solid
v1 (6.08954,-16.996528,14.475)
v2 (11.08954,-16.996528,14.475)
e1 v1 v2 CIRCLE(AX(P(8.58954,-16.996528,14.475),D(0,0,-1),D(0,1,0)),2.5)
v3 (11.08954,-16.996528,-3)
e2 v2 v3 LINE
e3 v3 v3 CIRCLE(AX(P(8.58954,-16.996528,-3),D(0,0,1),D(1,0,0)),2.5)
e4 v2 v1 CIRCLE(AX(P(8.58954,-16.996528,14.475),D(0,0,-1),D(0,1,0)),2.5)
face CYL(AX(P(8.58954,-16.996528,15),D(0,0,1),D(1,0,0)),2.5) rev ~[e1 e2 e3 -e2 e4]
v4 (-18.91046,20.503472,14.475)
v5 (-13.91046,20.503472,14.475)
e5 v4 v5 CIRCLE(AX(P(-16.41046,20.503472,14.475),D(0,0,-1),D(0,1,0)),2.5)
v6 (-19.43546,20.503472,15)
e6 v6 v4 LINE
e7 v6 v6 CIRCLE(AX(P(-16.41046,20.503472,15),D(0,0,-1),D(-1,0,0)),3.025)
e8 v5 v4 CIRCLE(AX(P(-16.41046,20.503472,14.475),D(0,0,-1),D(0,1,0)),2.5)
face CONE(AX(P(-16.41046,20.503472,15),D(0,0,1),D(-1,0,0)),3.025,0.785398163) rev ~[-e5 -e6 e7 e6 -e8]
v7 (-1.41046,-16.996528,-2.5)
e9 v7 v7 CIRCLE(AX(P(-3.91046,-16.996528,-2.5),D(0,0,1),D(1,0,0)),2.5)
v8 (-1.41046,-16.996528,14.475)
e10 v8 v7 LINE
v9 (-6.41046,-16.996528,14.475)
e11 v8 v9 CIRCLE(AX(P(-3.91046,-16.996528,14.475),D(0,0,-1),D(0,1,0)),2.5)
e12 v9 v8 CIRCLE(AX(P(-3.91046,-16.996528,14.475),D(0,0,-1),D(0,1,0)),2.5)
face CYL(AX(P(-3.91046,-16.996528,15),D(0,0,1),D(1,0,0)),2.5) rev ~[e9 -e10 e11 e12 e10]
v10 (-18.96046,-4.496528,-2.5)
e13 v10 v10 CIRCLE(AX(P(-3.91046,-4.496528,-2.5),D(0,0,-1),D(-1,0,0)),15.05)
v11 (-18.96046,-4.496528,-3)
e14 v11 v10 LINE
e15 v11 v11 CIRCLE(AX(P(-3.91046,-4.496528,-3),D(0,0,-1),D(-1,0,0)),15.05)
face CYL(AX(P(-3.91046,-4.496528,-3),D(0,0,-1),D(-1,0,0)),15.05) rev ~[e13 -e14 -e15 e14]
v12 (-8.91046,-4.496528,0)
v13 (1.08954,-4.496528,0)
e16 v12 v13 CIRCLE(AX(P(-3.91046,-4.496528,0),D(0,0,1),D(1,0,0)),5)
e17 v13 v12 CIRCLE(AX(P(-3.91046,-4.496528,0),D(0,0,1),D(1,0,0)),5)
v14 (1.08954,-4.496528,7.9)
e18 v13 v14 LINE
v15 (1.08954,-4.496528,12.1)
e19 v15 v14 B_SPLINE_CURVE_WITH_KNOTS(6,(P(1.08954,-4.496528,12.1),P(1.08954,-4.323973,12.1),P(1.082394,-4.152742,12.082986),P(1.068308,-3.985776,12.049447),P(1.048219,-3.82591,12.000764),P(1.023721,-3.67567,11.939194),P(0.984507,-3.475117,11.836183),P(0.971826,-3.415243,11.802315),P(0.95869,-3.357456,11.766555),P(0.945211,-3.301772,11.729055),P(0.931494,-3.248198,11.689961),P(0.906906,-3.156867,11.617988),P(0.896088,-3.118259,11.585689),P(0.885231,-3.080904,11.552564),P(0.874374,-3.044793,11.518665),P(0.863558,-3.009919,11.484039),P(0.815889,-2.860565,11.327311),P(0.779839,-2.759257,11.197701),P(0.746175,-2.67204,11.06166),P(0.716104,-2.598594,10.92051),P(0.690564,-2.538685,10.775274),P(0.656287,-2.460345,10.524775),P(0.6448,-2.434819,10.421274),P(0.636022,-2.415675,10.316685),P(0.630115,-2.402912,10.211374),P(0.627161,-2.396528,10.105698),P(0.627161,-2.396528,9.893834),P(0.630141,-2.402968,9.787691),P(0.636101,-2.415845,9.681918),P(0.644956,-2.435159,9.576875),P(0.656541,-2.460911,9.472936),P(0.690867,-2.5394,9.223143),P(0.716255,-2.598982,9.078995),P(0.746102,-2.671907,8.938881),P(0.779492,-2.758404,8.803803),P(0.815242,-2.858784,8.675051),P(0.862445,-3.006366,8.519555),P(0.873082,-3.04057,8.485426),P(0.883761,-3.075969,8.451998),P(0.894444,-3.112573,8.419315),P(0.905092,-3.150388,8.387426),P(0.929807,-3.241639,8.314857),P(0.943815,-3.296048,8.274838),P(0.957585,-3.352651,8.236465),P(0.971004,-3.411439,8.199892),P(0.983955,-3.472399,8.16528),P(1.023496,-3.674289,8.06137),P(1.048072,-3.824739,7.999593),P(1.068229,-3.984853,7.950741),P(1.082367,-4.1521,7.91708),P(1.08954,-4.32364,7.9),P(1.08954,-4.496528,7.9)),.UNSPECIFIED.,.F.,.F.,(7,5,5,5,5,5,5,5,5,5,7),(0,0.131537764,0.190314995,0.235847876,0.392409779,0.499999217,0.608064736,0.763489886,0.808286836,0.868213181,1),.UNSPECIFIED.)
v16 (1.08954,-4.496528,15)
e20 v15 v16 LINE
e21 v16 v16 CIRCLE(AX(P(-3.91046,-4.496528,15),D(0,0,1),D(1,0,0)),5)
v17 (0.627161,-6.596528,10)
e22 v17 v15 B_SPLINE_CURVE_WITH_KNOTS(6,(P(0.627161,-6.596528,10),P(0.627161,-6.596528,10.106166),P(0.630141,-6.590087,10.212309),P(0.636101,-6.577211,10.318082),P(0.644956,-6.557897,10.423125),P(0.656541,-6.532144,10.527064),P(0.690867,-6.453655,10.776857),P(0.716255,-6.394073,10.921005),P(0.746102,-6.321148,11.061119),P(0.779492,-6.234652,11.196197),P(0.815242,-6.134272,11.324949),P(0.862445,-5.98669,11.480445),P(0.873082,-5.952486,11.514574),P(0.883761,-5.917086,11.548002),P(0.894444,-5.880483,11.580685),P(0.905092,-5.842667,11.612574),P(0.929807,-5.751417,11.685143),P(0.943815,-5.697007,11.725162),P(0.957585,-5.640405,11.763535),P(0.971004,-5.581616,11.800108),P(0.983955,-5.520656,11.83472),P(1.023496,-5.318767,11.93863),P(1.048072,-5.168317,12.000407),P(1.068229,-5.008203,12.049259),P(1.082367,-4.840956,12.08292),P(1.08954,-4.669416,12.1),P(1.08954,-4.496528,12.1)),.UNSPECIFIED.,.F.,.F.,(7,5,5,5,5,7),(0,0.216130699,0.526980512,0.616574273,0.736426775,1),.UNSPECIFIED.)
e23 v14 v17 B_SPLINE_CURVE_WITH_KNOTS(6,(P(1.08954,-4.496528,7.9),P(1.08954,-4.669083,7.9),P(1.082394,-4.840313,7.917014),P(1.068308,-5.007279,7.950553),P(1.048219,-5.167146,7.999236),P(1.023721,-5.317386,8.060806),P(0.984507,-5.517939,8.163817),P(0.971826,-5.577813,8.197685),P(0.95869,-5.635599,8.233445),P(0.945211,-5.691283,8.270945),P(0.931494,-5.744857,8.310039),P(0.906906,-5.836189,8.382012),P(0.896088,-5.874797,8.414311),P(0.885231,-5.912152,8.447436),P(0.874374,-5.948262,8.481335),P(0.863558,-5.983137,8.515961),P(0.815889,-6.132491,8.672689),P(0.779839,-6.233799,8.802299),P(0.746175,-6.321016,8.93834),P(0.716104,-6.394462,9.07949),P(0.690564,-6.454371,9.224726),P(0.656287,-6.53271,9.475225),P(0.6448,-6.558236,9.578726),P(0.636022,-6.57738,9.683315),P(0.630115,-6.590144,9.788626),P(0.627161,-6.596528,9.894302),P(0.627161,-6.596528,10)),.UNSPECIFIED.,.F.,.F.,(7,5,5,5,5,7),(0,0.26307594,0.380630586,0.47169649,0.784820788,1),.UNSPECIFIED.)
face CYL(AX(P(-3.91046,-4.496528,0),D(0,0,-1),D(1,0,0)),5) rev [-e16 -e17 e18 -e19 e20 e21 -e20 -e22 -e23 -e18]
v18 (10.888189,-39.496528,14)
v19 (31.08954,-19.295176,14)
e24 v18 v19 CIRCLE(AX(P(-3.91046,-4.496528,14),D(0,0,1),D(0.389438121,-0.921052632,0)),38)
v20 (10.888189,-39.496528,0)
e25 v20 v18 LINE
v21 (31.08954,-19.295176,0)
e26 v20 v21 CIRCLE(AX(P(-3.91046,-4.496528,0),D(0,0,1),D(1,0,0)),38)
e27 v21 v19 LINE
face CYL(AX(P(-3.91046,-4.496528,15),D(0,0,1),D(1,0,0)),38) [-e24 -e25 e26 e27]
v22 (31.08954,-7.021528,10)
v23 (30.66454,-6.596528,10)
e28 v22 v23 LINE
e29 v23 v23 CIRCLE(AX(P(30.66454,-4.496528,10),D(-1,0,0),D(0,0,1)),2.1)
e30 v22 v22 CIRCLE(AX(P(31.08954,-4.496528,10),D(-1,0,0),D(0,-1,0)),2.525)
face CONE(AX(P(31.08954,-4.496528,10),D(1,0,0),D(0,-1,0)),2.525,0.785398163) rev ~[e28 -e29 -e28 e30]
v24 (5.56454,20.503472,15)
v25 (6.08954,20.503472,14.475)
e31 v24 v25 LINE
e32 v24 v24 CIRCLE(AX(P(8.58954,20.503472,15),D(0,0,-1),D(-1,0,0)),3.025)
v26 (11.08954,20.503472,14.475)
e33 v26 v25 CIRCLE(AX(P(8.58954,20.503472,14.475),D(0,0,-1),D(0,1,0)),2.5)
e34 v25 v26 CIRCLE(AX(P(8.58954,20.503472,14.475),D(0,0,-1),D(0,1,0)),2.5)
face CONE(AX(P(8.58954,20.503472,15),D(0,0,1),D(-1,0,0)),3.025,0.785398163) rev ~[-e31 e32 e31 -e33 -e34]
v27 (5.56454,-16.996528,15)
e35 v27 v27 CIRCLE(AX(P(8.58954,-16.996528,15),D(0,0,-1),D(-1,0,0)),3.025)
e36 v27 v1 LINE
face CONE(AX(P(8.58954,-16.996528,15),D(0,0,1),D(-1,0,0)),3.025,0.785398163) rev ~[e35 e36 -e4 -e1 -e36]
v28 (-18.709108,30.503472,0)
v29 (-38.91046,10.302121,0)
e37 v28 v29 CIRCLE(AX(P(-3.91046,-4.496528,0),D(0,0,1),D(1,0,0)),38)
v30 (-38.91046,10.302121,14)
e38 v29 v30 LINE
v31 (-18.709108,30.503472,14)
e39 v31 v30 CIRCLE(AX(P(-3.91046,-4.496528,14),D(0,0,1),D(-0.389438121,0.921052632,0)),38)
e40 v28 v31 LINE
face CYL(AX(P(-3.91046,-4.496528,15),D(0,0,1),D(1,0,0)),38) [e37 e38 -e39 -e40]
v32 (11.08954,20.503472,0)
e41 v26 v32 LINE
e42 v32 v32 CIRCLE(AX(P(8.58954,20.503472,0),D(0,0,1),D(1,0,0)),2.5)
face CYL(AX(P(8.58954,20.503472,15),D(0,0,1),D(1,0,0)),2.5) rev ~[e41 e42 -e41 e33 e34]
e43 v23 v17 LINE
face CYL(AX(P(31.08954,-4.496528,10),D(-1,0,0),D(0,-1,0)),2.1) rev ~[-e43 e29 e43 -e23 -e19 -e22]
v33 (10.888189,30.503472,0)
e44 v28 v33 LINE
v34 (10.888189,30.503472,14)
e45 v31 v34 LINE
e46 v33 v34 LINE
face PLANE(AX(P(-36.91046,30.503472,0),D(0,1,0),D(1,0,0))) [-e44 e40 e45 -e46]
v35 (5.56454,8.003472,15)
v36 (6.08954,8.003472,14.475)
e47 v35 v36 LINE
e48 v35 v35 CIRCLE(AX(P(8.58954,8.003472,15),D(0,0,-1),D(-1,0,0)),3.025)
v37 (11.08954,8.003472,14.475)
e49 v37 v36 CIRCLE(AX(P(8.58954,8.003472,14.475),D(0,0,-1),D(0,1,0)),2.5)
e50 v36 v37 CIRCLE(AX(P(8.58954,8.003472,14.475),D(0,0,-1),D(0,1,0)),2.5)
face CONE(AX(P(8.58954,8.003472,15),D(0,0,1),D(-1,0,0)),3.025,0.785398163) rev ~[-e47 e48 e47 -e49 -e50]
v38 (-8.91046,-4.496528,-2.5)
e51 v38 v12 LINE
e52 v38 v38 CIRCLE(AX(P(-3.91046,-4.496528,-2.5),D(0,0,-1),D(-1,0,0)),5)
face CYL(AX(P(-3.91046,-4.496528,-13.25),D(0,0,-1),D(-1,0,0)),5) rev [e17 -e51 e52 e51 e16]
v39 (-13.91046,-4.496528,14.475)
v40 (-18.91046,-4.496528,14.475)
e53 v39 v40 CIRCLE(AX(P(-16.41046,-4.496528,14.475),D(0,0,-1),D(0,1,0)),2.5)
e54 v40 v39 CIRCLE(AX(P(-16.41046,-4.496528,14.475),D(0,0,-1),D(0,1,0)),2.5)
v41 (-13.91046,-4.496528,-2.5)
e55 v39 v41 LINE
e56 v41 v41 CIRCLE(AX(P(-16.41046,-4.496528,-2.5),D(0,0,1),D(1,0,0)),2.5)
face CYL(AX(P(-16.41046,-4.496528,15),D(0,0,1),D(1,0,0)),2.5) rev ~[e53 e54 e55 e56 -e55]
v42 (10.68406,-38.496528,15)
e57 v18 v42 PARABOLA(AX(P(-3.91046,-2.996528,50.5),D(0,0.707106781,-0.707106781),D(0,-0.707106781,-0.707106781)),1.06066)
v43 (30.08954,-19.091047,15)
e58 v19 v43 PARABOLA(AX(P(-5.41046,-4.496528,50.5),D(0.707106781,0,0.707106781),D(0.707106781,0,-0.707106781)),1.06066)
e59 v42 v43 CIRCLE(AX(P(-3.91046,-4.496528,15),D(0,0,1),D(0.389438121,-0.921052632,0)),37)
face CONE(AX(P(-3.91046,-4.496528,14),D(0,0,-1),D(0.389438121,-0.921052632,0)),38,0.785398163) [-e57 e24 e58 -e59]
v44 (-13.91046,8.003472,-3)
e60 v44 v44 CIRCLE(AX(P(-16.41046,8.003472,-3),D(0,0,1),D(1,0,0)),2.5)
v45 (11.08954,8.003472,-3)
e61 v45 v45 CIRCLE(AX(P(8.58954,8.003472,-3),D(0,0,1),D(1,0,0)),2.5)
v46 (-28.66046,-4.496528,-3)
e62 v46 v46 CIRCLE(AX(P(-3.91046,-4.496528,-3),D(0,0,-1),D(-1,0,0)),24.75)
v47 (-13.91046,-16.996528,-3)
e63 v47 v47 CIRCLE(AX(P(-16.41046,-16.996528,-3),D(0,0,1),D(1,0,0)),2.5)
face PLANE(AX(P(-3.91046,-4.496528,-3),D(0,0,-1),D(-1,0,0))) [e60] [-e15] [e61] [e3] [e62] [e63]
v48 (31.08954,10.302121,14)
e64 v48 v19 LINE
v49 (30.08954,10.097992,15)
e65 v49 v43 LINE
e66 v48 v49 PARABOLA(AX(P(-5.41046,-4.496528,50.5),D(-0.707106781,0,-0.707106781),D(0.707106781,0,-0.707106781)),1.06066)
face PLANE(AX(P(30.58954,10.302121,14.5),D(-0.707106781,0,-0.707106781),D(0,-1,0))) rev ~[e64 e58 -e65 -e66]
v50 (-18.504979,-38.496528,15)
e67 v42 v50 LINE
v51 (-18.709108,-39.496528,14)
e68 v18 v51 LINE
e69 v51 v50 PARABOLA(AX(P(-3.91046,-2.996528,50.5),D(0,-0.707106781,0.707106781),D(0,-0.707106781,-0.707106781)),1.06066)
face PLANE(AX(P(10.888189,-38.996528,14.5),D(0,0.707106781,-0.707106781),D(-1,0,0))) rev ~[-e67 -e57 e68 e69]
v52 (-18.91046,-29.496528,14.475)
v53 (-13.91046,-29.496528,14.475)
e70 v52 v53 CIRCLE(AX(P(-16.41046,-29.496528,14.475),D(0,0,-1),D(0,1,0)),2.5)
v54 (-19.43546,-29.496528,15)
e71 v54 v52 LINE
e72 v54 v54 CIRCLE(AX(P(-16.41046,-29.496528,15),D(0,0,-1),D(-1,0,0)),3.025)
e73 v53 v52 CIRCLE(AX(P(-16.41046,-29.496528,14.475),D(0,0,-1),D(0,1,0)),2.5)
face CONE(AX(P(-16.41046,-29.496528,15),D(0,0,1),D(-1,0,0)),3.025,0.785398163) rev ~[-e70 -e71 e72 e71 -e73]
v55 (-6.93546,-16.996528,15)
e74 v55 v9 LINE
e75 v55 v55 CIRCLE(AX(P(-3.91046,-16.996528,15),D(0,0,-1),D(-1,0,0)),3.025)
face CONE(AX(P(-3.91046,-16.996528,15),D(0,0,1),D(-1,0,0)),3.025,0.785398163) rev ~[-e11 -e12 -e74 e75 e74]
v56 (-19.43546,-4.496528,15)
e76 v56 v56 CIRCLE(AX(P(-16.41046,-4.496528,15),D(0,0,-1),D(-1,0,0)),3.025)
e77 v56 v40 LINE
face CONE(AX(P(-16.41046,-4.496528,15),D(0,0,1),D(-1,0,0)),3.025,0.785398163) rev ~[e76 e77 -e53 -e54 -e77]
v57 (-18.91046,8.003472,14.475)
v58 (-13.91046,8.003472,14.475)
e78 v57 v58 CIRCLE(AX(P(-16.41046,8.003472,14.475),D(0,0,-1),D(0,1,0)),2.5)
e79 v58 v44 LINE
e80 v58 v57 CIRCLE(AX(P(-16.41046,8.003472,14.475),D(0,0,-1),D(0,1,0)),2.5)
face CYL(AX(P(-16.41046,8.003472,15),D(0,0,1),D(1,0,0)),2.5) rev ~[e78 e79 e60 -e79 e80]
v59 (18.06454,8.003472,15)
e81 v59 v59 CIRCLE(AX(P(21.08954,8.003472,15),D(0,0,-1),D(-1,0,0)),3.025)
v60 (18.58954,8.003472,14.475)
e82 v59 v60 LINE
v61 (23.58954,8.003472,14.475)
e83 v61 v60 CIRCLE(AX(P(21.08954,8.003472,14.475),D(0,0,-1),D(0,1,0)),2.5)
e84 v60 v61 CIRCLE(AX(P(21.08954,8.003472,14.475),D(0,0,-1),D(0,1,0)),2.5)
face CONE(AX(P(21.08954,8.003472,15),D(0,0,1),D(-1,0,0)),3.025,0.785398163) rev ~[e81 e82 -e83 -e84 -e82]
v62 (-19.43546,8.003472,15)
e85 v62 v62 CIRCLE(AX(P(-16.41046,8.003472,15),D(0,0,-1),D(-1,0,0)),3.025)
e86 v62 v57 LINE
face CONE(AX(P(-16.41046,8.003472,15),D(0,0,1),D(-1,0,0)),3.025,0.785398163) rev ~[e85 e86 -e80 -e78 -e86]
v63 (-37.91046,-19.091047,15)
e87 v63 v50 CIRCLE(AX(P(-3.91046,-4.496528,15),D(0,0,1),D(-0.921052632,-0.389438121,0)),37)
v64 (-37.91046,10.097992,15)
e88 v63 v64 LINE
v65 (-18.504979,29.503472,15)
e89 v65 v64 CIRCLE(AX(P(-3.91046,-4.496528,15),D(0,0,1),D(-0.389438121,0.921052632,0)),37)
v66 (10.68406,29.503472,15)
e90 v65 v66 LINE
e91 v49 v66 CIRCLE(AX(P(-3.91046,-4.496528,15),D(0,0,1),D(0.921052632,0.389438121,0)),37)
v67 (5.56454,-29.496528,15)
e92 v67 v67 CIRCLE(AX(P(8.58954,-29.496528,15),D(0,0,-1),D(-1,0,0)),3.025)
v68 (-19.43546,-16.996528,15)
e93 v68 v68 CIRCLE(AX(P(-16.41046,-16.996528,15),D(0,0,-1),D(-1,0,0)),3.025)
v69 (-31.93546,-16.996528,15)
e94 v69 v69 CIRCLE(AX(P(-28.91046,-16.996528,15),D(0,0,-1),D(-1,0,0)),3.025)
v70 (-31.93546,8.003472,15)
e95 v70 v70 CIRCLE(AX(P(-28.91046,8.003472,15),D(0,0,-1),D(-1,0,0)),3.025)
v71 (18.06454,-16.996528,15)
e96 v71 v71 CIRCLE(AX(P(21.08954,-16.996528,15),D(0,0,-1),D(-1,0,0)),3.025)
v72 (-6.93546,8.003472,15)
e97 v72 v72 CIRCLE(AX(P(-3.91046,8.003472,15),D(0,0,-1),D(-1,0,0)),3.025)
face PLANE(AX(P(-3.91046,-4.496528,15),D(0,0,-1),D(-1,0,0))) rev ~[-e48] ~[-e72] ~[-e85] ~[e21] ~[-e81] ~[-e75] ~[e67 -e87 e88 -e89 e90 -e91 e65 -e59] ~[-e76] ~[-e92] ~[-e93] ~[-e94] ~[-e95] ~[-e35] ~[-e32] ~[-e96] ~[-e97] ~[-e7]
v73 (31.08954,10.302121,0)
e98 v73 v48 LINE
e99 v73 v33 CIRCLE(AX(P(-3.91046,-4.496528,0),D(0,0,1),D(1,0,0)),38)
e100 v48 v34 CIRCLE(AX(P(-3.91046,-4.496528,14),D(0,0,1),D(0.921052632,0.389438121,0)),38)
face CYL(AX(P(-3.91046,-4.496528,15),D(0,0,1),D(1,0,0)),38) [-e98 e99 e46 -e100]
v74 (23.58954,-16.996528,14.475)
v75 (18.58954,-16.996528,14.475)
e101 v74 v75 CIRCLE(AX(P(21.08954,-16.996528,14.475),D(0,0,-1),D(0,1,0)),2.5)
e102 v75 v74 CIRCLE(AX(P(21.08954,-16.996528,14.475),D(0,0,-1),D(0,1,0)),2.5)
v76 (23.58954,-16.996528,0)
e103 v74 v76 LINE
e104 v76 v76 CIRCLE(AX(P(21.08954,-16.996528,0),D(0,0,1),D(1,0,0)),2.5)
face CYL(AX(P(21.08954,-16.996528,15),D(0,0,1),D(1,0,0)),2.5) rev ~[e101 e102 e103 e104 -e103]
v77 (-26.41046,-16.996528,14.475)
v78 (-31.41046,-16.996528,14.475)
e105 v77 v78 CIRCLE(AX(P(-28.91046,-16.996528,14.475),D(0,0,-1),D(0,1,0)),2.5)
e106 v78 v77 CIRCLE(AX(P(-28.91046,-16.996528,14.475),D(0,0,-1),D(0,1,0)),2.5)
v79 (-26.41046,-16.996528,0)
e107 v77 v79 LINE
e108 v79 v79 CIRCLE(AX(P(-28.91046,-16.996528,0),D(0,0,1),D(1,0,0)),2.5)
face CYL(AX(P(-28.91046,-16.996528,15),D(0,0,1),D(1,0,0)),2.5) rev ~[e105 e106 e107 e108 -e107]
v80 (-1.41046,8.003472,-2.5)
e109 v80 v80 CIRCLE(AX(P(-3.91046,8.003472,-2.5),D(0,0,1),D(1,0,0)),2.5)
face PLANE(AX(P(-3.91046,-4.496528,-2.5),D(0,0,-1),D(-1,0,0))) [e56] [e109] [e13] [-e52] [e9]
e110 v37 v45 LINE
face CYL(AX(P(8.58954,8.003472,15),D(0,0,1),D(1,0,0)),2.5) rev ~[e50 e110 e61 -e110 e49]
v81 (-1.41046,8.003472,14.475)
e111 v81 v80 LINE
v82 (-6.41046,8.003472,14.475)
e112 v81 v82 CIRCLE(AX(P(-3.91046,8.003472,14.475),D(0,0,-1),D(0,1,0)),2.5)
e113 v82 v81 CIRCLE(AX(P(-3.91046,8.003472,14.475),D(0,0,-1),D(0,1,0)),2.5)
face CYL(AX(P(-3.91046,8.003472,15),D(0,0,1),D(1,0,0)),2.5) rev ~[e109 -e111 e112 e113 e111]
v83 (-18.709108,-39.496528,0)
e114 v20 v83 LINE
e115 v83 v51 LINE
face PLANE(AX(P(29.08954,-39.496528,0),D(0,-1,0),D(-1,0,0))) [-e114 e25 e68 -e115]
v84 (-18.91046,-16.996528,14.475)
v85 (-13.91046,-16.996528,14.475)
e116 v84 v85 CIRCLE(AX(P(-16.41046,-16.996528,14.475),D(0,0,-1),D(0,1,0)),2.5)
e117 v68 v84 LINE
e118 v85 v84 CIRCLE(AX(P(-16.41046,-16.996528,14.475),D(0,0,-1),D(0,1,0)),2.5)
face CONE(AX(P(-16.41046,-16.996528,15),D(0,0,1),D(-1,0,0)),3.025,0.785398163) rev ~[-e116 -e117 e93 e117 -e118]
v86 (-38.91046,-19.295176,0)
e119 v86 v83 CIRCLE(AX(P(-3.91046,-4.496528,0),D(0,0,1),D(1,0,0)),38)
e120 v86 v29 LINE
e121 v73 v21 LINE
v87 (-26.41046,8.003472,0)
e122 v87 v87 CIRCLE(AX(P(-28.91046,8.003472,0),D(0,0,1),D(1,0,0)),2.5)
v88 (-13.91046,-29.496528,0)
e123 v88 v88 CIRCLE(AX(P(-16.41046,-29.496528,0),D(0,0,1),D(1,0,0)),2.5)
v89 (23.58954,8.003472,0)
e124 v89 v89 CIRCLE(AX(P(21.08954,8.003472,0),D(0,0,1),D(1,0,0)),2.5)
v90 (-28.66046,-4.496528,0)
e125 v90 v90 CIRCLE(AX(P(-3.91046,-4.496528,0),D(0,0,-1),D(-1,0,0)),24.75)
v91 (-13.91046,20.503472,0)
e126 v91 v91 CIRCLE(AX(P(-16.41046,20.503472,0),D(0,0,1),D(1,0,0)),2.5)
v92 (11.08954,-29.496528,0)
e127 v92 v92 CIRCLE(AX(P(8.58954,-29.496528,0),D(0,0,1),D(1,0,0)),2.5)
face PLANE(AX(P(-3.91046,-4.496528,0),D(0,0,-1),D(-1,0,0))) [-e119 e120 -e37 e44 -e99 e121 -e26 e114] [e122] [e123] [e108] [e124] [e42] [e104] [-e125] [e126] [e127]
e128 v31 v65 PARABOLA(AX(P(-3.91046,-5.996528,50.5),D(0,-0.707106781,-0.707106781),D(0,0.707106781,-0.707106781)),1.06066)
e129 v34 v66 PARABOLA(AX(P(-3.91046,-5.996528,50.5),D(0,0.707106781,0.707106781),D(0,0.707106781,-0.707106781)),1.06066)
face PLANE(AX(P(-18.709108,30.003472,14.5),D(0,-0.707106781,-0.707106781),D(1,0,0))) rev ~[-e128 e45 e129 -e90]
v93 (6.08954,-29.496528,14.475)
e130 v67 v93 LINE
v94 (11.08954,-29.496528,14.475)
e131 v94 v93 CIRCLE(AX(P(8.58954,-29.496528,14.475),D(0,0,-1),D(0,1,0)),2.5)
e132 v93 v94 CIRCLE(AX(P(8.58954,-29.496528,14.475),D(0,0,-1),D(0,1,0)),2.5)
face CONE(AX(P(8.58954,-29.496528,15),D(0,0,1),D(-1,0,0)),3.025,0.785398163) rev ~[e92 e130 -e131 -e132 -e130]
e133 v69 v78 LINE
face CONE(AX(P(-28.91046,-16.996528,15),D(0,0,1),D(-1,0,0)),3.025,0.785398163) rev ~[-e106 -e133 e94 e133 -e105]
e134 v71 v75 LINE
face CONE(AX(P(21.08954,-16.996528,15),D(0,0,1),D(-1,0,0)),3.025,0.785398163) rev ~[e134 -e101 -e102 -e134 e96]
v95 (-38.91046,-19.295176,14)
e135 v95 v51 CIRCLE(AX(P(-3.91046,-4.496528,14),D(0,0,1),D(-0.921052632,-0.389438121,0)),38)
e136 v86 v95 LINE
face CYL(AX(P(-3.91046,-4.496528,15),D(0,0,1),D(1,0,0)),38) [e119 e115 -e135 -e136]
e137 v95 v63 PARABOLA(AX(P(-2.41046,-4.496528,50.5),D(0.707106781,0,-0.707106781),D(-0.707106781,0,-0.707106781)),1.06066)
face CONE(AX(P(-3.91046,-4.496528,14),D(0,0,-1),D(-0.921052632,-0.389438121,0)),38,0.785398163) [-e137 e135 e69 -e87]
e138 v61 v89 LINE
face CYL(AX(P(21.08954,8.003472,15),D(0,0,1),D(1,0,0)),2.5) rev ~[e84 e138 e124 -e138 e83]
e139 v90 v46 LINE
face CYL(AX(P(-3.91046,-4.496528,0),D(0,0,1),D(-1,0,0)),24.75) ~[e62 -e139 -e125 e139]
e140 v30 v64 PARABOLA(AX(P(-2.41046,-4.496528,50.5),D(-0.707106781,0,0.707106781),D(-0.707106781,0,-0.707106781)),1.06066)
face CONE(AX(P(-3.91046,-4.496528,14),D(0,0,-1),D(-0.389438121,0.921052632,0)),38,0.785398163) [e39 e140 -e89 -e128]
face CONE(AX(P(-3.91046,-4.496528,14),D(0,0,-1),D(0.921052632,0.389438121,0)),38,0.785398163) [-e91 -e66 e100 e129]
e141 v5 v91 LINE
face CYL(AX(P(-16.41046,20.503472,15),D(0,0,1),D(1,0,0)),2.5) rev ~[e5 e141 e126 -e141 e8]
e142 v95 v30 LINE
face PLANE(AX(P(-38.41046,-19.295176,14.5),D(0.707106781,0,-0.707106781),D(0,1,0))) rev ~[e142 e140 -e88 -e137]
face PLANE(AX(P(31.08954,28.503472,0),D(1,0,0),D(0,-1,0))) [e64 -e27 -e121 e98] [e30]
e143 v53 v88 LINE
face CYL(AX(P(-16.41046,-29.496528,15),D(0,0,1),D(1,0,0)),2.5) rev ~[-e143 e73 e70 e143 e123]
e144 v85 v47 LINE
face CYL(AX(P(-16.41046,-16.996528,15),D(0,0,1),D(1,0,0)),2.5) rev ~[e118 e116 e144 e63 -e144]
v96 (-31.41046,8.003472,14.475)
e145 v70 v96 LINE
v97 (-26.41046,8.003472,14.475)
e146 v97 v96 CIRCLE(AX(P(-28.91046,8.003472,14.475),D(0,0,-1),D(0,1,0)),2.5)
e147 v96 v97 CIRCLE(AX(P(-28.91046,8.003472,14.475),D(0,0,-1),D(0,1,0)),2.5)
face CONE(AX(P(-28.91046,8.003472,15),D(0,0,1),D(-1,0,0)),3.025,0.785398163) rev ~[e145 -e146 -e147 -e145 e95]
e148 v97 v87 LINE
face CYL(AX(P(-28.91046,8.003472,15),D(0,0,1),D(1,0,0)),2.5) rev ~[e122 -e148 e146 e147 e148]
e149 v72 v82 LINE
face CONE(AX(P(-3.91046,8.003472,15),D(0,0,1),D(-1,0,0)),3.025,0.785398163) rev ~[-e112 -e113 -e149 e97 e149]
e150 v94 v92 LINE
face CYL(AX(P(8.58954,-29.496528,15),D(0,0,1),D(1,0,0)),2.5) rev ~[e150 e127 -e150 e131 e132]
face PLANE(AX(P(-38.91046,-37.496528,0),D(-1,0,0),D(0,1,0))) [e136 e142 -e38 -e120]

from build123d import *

# Parameters (mm, degrees)
SKIZZE1_R                       = 5
AUFSATZ_LINEAR_AUSTRAGEN1_DEPTH = 15
SKIZZE4_R                       = 24.75
AUFSATZ_LINEAR_AUSTRAGEN2_DEPTH = 3
SKIZZE2_R                       = 2.5
SCHNITT_LINEAR_AUSTRAGEN1_DEPTH = 20
M6_GEWINDEBOHRUNG1_D            = 5
M6_GEWINDEBOHRUNG1_DEPTH        = 10
M6_GEWINDEBOHRUNG1_CSINK_D      = 6.05
M6_GEWINDEBOHRUNG1_CSINK_ANGLE  = 90
M6_GEWINDEBOHRUNG1_TIP          = 1.502151548
SCHNITT_LINEAR_START            = -13.25
SKIZZE5_R                       = 5
SCHNITT_LINEAR_AUSTRAGEN2_DEPTH = 13.25
SKIZZE6_R                       = 60.631452858
SKIZZE6_R_2                     = 38
SCHNITT_LINEAR_AUSTRAGEN3_DEPTH = 17
FASE1_SIZE                      = 1
SKIZZE7_R                       = 2
SCHNITT_LINEAR_AUSTRAGEN4_DEPTH = 38
M5_GEWINDEBOHRUNG1_D            = 4.2
M5_GEWINDEBOHRUNG1_DEPTH        = 34
M5_GEWINDEBOHRUNG1_CSINK_D      = 5.05
M5_GEWINDEBOHRUNG1_CSINK_ANGLE  = 90
M5_GEWINDEBOHRUNG1_TIP          = 1.2618073
SKIZZE10_R                      = 15.05
SCHNITT_LINEAR_AUSTRAGEN5_DEPTH = 0.5


with BuildPart() as part:
    # Skizze1 → Aufsatz-Linear austragen1 (new body)
    with BuildSketch(Plane.XY):
        with BuildLine():
            Line((-36.910459775, 30.503472222), (29.089540225, 30.503472222))
            ThreePointArc((29.089540225, 30.503472222), (30.503753788, 29.917685785), (31.089540225, 28.503472222))
            Line((31.089540225, 28.503472222), (31.089540225, -37.496527778))
            ThreePointArc((31.089540225, -37.496527778), (30.503753788, -38.91074134), (29.089540225, -39.496527778))
            Line((29.089540225, -39.496527778), (-36.910459775, -39.496527778))
            ThreePointArc((-36.910459775, -39.496527778), (-38.324673337, -38.91074134), (-38.910459775, -37.496527778))
            Line((-38.910459775, -37.496527778), (-38.910459775, 28.503472222))
            ThreePointArc((-38.910459775, 28.503472222), (-38.324673337, 29.917685785), (-36.910459775, 30.503472222))
        make_face()
        with Locations((-3.910459775, -4.496527778)):
            Circle(SKIZZE1_R, mode=Mode.SUBTRACT)
    extrude(amount=AUFSATZ_LINEAR_AUSTRAGEN1_DEPTH)

    # Skizze4 → Aufsatz-Linear austragen2 (add)
    with BuildSketch(Plane(origin=(0, 0, 0), x_dir=(-1, 0, 0), z_dir=(0, 0, -1))):
        with Locations((3.910459775, -4.496527778)):
            Circle(SKIZZE4_R)
    extrude(amount=AUFSATZ_LINEAR_AUSTRAGEN2_DEPTH)

    # Skizze2 → Schnitt-Linear austragen1 (cut)
    with BuildSketch(Plane.XY.offset(15)):
        with Locations((-16.410459775, 20.503472222)):
            Circle(SKIZZE2_R)
        with Locations((8.589540225, 20.503472222)):
            Circle(SKIZZE2_R)
        with Locations((-16.410459775, 8.003472222)):
            Circle(SKIZZE2_R)
        with Locations((-3.910459775, 8.003472222)):
            Circle(SKIZZE2_R)
        with Locations((8.589540225, 8.003472222)):
            Circle(SKIZZE2_R)
        with Locations((21.089540225, 8.003472222)):
            Circle(SKIZZE2_R)
        with Locations((-16.410459775, -4.496527778)):
            Circle(SKIZZE2_R)
        with Locations((-16.410459775, -16.996527778)):
            Circle(SKIZZE2_R)
        with Locations((-3.910459775, -16.996527778)):
            Circle(SKIZZE2_R)
        with Locations((8.589540225, -16.996527778)):
            Circle(SKIZZE2_R)
        with Locations((21.089540225, -16.996527778)):
            Circle(SKIZZE2_R)
        with Locations((-16.410459775, -29.496527778)):
            Circle(SKIZZE2_R)
        with Locations((8.589540225, -29.496527778)):
            Circle(SKIZZE2_R)
        with Locations((-28.910459775, 8.003472222)):
            Circle(SKIZZE2_R)
        with Locations((-28.910459775, -16.996527778)):
            Circle(SKIZZE2_R)
    extrude(amount=-SCHNITT_LINEAR_AUSTRAGEN1_DEPTH, mode=Mode.SUBTRACT)

    # M6 Gewindebohrung1
    with Locations(Plane(origin=(-16.410459775, 20.503472222, 15), x_dir=(1, 0, 0), z_dir=(0, 0, 1))):
        with Locations((0, 0), (25, 0), (37.5, -12.5), (25, -12.5), (12.5, -12.5), (0, -12.5), (-12.5, -12.5), (0, -25), (37.5, -37.5), (25, -37.5), (12.5, -37.5), (0, -37.5), (-12.5, -37.5), (0, -50), (25, -50)):
            CounterSinkHole(M6_GEWINDEBOHRUNG1_D / 2, M6_GEWINDEBOHRUNG1_CSINK_D / 2, depth=M6_GEWINDEBOHRUNG1_DEPTH, counter_sink_angle=M6_GEWINDEBOHRUNG1_CSINK_ANGLE)
            with Locations((0, 0, -(M6_GEWINDEBOHRUNG1_DEPTH + M6_GEWINDEBOHRUNG1_TIP / 2))):  # 118° drill point
                Cone(0, M6_GEWINDEBOHRUNG1_D / 2, M6_GEWINDEBOHRUNG1_TIP, mode=Mode.SUBTRACT)

    # Skizze5 → Schnitt-Linear austragen2 (cut)
    with BuildSketch(Plane.XY.offset(SCHNITT_LINEAR_START)):
        with Locations(Location((-3.910459775, -4.496527778, 0), (0, 0, 180))):
            Circle(SKIZZE5_R)
    extrude(amount=SCHNITT_LINEAR_AUSTRAGEN2_DEPTH, mode=Mode.SUBTRACT)

    # Skizze6 → Schnitt-Linear austragen3 (cut)
    with BuildSketch(Plane.XY.offset(15)):
        with Locations((-3.910459775, -4.496527778)):
            Circle(SKIZZE6_R)
        with Locations((-3.910459775, -4.496527778)):
            Circle(SKIZZE6_R_2, mode=Mode.SUBTRACT)
    extrude(amount=-SCHNITT_LINEAR_AUSTRAGEN3_DEPTH, mode=Mode.SUBTRACT)

    # Fase1
    fase1_edges = [part.edges().sort_by_distance(p)[0] for p in [
        (-38.910459775, -4.496527778, 15),
        (-3.910459775, 30.503472222, 15),
        (31.089540225, -4.496527778, 15),
        (-3.910459775, -39.496527778, 15),
        (22.95959791, -31.366585463, 15),
        (22.95959791, 22.373529907, 15),
        (-30.78051746, 22.373529907, 15),
        (-30.78051746, -31.366585463, 15),
    ]]
    chamfer(fase1_edges, length=FASE1_SIZE)

    # Skizze7 → Schnitt-Linear austragen4 (cut)
    with BuildSketch(Plane(origin=(31.089540225, 0, 0), x_dir=(0, 0, -1), z_dir=(1, 0, 0))):
        with Locations(Location((-10, -4.496527778, 0), (0, 0, 90))):
            Circle(SKIZZE7_R)
    extrude(amount=-SCHNITT_LINEAR_AUSTRAGEN4_DEPTH, mode=Mode.SUBTRACT)

    # M5 Gewindebohrung1
    with Locations(Plane(origin=(31.089540225, -4.496527778, 10), x_dir=(0, 1, 0), z_dir=(1, 0, 0))):
        with Locations((0, 0)):
            CounterSinkHole(M5_GEWINDEBOHRUNG1_D / 2, M5_GEWINDEBOHRUNG1_CSINK_D / 2, depth=M5_GEWINDEBOHRUNG1_DEPTH, counter_sink_angle=M5_GEWINDEBOHRUNG1_CSINK_ANGLE)
            with Locations((0, 0, -(M5_GEWINDEBOHRUNG1_DEPTH + M5_GEWINDEBOHRUNG1_TIP / 2))):  # 118° drill point
                Cone(0, M5_GEWINDEBOHRUNG1_D / 2, M5_GEWINDEBOHRUNG1_TIP, mode=Mode.SUBTRACT)

    # Skizze10 → Schnitt-Linear austragen5 (cut)
    with BuildSketch(Plane(origin=(0, 0, -3), x_dir=(-1, 0, 0), z_dir=(0, 0, -1))):
        with Locations((3.910459775, -4.496527778)):
            Circle(SKIZZE10_R)
    extrude(amount=-SCHNITT_LINEAR_AUSTRAGEN5_DEPTH, mode=Mode.SUBTRACT)


solid = part.part
